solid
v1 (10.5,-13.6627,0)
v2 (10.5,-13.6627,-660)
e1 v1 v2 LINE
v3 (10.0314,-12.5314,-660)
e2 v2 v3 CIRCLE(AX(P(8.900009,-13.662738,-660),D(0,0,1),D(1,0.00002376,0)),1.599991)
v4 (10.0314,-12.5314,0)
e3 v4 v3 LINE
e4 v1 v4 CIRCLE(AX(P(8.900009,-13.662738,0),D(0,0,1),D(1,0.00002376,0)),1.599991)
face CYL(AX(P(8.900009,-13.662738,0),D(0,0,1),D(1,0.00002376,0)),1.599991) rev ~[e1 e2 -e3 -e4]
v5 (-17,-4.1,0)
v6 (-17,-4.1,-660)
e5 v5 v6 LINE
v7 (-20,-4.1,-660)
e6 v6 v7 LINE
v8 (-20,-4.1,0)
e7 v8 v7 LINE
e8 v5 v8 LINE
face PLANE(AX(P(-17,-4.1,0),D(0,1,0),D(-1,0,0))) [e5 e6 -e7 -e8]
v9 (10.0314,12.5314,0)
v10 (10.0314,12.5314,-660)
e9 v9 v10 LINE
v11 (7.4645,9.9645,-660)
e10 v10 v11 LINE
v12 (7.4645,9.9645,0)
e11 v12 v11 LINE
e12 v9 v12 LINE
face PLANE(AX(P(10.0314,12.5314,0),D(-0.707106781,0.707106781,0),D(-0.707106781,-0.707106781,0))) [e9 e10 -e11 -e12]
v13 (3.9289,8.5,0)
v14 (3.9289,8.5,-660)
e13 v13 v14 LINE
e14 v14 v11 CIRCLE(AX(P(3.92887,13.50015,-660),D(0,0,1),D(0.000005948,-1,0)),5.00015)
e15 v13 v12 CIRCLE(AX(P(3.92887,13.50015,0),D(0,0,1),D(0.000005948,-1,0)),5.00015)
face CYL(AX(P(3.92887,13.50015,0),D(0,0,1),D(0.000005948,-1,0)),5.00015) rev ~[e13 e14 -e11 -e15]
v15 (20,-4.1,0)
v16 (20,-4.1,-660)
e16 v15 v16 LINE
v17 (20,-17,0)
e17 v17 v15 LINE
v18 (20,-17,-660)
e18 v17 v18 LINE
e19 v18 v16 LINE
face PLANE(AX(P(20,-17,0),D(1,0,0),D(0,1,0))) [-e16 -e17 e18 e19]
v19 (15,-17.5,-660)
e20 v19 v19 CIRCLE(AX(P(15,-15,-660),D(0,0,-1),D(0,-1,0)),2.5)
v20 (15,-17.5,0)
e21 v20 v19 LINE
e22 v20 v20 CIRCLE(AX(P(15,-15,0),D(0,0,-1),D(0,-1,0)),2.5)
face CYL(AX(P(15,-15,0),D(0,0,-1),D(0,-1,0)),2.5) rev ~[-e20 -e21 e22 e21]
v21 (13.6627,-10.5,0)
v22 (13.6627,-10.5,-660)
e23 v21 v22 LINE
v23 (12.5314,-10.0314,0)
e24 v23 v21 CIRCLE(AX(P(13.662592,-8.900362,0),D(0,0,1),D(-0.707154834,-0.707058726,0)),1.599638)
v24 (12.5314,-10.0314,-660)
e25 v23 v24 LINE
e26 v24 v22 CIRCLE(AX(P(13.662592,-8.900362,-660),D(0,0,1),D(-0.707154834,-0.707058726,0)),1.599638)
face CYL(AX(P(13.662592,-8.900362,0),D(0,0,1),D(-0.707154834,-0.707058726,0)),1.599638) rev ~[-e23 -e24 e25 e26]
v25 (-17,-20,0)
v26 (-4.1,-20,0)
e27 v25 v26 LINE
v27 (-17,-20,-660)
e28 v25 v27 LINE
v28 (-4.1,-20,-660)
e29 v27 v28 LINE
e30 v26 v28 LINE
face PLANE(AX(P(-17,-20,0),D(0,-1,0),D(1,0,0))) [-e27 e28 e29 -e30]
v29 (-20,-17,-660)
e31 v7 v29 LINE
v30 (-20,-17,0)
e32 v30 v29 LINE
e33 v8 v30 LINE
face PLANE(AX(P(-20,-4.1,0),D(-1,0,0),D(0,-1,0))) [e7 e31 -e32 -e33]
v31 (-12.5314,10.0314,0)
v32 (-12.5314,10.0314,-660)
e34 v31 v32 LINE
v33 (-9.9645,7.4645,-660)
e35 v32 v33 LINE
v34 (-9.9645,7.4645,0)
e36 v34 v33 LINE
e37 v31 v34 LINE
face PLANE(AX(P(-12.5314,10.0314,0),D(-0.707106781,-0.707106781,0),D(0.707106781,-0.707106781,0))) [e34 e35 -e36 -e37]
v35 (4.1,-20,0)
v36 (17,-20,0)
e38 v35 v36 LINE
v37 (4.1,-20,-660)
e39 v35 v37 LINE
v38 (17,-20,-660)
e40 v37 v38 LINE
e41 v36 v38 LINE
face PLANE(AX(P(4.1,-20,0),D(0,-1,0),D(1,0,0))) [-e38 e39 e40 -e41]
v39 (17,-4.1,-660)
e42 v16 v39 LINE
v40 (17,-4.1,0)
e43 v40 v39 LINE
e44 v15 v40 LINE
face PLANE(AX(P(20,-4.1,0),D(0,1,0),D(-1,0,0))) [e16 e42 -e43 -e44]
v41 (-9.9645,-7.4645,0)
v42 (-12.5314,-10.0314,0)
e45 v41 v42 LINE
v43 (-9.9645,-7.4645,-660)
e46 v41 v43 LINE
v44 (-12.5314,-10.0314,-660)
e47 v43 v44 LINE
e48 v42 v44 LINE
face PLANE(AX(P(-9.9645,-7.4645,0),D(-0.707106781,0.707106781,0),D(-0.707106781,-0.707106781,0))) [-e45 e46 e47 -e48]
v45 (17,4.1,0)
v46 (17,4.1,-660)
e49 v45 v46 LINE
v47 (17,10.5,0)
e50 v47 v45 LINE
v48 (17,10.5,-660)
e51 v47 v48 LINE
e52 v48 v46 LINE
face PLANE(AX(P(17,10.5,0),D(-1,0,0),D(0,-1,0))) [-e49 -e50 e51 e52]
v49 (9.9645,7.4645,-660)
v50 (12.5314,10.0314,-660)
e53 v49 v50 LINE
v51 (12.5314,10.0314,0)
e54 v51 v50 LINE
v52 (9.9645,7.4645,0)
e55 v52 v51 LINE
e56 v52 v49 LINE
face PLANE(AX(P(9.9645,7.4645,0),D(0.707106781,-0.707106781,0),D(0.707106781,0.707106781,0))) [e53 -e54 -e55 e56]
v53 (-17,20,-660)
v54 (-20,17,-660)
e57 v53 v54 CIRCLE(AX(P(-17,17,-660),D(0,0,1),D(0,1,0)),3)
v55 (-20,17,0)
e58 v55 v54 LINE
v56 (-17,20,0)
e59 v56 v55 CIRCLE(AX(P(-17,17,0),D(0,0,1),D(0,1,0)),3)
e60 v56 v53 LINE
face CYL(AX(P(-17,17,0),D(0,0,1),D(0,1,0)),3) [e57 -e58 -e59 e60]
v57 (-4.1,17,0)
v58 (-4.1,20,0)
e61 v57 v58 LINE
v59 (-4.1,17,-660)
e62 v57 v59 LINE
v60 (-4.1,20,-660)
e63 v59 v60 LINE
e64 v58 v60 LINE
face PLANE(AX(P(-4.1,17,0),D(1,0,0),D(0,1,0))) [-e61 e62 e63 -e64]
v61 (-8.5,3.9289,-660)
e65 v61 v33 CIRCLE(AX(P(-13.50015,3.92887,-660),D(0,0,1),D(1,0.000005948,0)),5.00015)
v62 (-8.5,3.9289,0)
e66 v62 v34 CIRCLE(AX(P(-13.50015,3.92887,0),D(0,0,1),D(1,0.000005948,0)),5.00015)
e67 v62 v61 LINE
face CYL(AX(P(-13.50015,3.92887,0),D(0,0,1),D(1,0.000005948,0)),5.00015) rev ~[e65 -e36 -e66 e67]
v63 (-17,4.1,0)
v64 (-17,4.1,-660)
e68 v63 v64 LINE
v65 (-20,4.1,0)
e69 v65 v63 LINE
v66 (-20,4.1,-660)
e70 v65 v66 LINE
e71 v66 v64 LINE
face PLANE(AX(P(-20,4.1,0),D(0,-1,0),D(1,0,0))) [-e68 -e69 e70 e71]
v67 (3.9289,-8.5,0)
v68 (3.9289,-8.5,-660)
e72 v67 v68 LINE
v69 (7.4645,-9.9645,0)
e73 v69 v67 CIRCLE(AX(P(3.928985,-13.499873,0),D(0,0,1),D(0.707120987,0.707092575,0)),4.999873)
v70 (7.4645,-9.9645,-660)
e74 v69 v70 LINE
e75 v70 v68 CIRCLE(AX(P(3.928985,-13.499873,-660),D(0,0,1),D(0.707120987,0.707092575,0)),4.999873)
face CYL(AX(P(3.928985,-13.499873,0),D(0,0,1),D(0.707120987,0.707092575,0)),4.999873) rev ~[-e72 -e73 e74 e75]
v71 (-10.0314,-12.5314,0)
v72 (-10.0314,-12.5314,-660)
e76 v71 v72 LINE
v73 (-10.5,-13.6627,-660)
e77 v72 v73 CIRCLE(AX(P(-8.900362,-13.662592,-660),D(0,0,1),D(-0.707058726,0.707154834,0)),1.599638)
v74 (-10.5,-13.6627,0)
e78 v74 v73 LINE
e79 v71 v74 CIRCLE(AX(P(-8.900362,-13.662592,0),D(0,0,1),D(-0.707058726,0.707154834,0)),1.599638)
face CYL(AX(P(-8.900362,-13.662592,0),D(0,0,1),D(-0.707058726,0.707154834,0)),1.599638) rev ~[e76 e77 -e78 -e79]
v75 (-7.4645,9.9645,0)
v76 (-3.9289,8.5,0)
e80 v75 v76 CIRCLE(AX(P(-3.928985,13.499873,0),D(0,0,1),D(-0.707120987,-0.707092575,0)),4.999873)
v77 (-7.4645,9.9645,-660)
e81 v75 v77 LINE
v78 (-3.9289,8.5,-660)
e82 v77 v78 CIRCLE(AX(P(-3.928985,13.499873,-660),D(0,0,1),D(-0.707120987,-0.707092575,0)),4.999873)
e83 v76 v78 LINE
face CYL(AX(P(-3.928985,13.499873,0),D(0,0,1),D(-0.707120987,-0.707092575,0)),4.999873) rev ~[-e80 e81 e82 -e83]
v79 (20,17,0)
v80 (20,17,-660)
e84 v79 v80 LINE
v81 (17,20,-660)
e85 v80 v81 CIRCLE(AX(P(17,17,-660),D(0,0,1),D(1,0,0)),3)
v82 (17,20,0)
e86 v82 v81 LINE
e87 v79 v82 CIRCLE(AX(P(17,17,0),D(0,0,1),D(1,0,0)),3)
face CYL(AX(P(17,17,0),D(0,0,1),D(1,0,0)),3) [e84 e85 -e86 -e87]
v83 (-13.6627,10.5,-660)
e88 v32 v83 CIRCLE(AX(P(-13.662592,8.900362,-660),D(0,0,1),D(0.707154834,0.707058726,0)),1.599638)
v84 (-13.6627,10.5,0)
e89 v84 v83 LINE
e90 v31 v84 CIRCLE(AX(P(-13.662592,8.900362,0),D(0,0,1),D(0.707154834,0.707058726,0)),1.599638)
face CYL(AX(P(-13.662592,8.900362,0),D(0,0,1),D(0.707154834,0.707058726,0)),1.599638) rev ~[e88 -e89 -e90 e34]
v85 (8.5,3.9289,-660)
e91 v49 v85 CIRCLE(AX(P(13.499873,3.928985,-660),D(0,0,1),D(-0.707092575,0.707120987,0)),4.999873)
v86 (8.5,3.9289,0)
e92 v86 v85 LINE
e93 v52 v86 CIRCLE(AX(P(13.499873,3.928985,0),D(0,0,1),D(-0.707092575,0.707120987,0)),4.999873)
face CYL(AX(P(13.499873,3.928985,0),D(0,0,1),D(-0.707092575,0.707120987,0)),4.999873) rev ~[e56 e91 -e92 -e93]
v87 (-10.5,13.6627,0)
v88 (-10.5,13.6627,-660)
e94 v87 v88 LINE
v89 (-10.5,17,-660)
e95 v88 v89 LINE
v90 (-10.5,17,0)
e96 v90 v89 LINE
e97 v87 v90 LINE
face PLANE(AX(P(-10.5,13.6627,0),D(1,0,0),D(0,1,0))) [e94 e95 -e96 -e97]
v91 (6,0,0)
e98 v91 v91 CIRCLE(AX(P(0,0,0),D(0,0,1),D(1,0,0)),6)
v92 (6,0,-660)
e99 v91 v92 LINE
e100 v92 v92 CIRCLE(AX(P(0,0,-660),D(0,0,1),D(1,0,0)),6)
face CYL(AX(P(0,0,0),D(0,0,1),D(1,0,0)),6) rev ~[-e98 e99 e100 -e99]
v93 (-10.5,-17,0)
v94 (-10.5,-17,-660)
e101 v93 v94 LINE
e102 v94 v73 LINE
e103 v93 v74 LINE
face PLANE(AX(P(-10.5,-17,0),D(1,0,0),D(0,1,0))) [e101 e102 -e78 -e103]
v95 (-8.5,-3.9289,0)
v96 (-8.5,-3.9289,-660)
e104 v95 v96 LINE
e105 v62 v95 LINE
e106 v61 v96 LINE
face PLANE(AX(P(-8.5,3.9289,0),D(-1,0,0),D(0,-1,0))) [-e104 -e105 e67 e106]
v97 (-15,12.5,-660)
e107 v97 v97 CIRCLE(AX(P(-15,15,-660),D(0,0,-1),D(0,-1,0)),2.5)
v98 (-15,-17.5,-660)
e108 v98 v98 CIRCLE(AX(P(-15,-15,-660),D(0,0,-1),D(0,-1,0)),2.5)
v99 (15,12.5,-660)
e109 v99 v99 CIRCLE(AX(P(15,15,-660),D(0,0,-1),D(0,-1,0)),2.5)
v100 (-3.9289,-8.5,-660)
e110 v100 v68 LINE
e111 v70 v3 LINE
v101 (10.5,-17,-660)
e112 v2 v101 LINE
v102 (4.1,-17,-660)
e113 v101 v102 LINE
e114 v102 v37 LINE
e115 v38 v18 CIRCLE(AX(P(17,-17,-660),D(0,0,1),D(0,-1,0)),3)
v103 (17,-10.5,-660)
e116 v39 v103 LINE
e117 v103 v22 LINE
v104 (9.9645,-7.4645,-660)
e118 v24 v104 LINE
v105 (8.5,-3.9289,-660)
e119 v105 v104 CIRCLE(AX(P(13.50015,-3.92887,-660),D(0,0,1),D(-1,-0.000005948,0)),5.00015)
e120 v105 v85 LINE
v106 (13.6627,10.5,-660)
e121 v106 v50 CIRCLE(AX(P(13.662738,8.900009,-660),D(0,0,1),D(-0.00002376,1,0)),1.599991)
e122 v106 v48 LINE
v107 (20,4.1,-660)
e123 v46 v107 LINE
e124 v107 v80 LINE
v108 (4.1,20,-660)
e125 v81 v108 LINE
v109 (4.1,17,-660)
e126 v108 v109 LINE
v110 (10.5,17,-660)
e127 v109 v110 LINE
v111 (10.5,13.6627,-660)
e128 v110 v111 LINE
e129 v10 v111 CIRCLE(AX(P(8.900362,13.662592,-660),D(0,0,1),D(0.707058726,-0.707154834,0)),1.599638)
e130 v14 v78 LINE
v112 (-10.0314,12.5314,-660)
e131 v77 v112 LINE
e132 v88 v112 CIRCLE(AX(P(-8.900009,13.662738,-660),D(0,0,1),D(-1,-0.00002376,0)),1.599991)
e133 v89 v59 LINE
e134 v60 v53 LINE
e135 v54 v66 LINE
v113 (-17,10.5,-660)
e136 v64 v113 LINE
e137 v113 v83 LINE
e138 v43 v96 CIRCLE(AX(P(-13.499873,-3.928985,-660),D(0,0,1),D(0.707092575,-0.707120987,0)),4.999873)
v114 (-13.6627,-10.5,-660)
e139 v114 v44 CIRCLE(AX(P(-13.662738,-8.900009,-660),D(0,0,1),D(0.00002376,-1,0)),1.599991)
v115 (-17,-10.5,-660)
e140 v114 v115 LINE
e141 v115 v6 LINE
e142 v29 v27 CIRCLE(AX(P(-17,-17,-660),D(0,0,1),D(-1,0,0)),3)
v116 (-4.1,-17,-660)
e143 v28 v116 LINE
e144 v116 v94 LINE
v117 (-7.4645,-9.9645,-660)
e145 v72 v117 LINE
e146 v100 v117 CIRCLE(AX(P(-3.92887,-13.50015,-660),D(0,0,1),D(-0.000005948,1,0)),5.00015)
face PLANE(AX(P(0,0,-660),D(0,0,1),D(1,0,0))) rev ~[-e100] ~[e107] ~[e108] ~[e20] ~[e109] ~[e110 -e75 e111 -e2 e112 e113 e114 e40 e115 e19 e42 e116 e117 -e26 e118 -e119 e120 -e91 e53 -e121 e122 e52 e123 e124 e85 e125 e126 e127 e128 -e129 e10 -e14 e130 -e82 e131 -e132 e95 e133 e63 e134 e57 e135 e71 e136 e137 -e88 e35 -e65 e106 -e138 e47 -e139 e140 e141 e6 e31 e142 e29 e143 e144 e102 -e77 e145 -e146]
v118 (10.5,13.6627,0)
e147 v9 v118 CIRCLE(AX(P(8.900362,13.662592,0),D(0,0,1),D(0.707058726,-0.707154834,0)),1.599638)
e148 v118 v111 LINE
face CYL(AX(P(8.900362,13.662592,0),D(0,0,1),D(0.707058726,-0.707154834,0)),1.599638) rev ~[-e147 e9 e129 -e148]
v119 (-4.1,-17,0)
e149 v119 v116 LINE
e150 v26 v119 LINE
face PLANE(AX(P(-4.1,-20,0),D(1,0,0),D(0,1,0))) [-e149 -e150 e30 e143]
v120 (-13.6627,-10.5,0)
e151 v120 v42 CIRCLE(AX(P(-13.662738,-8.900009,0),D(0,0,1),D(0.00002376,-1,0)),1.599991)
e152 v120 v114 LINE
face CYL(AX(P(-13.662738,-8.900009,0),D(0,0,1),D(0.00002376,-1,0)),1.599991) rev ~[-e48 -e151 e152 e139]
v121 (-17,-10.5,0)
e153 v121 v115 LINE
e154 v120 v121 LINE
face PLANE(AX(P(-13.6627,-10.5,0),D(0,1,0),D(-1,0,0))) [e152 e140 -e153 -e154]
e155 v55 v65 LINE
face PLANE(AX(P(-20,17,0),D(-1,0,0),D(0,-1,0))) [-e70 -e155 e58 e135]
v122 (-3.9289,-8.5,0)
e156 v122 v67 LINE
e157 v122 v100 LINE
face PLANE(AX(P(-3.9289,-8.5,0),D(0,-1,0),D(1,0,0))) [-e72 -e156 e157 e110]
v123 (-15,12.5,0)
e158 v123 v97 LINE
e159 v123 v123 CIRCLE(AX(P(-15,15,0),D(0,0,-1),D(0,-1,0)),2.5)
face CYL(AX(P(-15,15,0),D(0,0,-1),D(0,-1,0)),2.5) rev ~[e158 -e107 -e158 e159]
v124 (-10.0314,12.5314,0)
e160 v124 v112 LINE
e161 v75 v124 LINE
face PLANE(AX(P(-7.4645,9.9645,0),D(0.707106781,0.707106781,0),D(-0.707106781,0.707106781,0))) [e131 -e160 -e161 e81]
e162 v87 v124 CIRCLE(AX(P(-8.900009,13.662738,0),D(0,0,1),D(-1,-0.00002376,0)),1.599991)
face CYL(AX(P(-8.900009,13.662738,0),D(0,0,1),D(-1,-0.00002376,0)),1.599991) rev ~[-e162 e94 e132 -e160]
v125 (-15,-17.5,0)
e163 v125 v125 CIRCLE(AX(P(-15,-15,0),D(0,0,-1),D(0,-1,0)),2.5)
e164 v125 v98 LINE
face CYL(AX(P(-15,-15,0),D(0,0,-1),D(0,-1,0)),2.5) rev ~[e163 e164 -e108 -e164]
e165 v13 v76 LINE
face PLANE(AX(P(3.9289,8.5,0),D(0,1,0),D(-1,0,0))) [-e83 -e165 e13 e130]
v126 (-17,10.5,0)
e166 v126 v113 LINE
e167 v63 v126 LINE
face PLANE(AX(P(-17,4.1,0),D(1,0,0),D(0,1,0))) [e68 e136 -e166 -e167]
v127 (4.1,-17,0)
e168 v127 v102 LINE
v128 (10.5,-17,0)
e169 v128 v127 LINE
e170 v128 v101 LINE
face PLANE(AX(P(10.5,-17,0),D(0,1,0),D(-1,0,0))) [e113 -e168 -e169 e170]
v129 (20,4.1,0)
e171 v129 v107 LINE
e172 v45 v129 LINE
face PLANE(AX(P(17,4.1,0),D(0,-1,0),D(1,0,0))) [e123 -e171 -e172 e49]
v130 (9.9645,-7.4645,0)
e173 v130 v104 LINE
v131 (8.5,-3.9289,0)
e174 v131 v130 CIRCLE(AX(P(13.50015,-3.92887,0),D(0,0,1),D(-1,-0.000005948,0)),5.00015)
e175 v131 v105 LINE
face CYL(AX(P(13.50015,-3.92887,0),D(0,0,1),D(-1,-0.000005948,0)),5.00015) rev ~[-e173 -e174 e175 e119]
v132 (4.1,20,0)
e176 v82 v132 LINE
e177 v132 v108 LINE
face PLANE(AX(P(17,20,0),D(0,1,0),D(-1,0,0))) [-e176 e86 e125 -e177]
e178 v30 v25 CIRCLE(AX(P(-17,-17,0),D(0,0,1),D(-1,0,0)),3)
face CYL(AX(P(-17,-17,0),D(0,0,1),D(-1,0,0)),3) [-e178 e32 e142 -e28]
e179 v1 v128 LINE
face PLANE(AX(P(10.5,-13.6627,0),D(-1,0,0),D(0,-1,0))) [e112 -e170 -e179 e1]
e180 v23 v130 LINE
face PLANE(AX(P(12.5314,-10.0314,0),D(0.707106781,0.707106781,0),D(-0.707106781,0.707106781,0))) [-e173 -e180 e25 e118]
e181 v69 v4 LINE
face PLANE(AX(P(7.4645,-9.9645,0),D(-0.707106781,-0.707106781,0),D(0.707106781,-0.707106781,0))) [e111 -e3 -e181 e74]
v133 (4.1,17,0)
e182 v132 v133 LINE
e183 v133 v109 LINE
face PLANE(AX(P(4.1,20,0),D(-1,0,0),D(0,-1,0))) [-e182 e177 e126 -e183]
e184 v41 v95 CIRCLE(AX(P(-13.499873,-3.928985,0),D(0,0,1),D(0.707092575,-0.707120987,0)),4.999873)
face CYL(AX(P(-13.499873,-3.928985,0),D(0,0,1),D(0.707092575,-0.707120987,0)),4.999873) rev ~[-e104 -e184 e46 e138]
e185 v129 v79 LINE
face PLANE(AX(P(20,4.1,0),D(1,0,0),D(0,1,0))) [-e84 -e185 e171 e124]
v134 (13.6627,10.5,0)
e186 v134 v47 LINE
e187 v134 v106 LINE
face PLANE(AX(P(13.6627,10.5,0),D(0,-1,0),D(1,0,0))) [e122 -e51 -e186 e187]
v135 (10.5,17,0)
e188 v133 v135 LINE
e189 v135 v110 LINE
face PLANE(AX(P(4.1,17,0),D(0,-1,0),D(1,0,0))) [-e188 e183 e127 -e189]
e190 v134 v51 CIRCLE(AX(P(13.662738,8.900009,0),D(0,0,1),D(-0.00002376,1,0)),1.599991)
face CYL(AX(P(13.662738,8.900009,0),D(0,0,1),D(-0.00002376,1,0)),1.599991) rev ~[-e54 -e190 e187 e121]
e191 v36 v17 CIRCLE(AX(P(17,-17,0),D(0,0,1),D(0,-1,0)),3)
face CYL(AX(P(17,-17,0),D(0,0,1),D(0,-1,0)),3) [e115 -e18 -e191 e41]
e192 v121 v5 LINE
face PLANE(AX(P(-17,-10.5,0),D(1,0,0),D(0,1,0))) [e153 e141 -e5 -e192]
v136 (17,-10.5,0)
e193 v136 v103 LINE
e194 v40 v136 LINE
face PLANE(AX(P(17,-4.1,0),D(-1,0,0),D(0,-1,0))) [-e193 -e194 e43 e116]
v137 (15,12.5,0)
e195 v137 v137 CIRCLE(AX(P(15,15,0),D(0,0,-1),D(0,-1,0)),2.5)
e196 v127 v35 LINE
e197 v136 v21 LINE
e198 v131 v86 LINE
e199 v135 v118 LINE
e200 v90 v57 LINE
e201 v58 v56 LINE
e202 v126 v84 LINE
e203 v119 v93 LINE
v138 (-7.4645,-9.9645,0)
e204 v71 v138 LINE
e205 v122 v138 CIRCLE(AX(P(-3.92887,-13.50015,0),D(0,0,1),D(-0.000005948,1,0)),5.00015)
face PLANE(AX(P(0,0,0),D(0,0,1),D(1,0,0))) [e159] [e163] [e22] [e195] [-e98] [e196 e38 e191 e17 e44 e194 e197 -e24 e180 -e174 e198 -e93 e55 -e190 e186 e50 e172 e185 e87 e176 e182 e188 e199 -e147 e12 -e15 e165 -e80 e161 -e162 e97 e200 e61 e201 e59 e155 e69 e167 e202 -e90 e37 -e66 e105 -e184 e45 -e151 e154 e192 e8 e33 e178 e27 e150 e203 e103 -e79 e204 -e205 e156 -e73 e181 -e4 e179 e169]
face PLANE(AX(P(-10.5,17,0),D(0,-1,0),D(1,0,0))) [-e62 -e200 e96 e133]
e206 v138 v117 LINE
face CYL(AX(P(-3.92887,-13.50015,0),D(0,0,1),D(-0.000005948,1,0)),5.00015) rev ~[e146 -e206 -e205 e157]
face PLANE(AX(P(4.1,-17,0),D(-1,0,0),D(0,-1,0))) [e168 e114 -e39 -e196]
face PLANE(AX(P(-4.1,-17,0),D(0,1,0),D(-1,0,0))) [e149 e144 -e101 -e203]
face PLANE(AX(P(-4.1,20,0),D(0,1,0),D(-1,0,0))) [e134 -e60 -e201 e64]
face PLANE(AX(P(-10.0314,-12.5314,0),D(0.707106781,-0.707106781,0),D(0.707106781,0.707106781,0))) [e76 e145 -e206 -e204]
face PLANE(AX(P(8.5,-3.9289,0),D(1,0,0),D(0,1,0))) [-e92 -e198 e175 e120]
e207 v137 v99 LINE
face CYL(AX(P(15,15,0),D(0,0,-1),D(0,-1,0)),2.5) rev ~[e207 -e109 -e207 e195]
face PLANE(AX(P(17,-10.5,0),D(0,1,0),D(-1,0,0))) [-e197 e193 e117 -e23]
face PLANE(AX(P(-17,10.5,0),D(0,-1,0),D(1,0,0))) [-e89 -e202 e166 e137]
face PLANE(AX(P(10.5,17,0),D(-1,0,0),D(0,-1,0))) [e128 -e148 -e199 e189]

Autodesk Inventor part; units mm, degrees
sketch "Skizze_1" plane through (0, 0, 0) normal (0, 0, 1) x (1, 0, 0)
  arc A0 (-20, -17) -> (-17, -20) centre (-17, -17) ccw
  line L0 (-17, -20) -> (-4.1, -20)
  line L1 (-4.1, -20) -> (-4.1, -17)
  line L2 (-4.1, -17) -> (-10.5, -17)
  line L3 (-10.5, -17) -> (-10.5, -13.6627)
  arc A1 (-10.0314, -12.5314) -> (-10.5, -13.6627) centre (-8.9002, -13.6627) ccw
  line L4 (-10.0314, -12.5314) -> (-7.4645, -9.9645)
  arc A2 (-3.9289, -8.5) -> (-7.4645, -9.9645) centre (-3.9289, -13.5) ccw
  line L5 (-3.9289, -8.5) -> (3.9289, -8.5)
  arc A3 (7.4645, -9.9645) -> (3.9289, -8.5) centre (3.9289, -13.5) ccw
  line L6 (7.4645, -9.9645) -> (10.0314, -12.5314)
  arc A4 (10.5, -13.6627) -> (10.0314, -12.5314) centre (8.9002, -13.6627) ccw
  line L7 (10.5, -13.6627) -> (10.5, -17)
  line L8 (10.5, -17) -> (4.1, -17)
  line L9 (4.1, -17) -> (4.1, -20)
  line L10 (4.1, -20) -> (17, -20)
  arc A5 (17, -20) -> (20, -17) centre (17, -17) ccw
  line L11 (20, -17) -> (20, -4.1)
  line L12 (20, -4.1) -> (17, -4.1)
  line L13 (17, -4.1) -> (17, -10.5)
  line L14 (17, -10.5) -> (13.6627, -10.5)
  arc A6 (12.5314, -10.0314) -> (13.6627, -10.5) centre (13.6627, -8.9002) ccw
  line L15 (12.5314, -10.0314) -> (9.9645, -7.4645)
  arc A7 (8.5, -3.9289) -> (9.9645, -7.4645) centre (13.5, -3.9289) ccw
  line L16 (8.5, -3.9289) -> (8.5, 3.9289)
  arc A8 (9.9645, 7.4645) -> (8.5, 3.9289) centre (13.5, 3.9289) ccw
  line L17 (9.9645, 7.4645) -> (12.5314, 10.0314)
  arc A9 (13.6627, 10.5) -> (12.5314, 10.0314) centre (13.6627, 8.9002) ccw
  line L18 (13.6627, 10.5) -> (17, 10.5)
  line L19 (17, 10.5) -> (17, 4.1)
  line L20 (17, 4.1) -> (20, 4.1)
  line L21 (20, 4.1) -> (20, 17)
  arc A10 (20, 17) -> (17, 20) centre (17, 17) ccw
  line L22 (17, 20) -> (4.1, 20)
  line L23 (4.1, 20) -> (4.1, 17)
  line L24 (4.1, 17) -> (10.5, 17)
  line L25 (10.5, 17) -> (10.5, 13.6627)
  arc A11 (10.0314, 12.5314) -> (10.5, 13.6627) centre (8.9002, 13.6627) ccw
  line L26 (10.0314, 12.5314) -> (7.4645, 9.9645)
  arc A12 (3.9289, 8.5) -> (7.4645, 9.9645) centre (3.9289, 13.5) ccw
  line L27 (3.9289, 8.5) -> (-3.9289, 8.5)
  arc A13 (-7.4645, 9.9645) -> (-3.9289, 8.5) centre (-3.9289, 13.5) ccw
  line L28 (-7.4645, 9.9645) -> (-10.0314, 12.5314)
  arc A14 (-10.5, 13.6627) -> (-10.0314, 12.5314) centre (-8.9002, 13.6627) ccw
  line L29 (-10.5, 13.6627) -> (-10.5, 17)
  line L30 (-10.5, 17) -> (-4.1, 17)
  line L31 (-4.1, 17) -> (-4.1, 20)
  line L32 (-4.1, 20) -> (-17, 20)
  arc A15 (-17, 20) -> (-20, 17) centre (-17, 17) ccw
  line L33 (-20, 17) -> (-20, 4.1)
  line L34 (-20, 4.1) -> (-17, 4.1)
  line L35 (-17, 4.1) -> (-17, 10.5)
  line L36 (-17, 10.5) -> (-13.6627, 10.5)
  arc A16 (-12.5314, 10.0314) -> (-13.6627, 10.5) centre (-13.6627, 8.9002) ccw
  line L37 (-12.5314, 10.0314) -> (-9.9645, 7.4645)
  arc A17 (-8.5, 3.9289) -> (-9.9645, 7.4645) centre (-13.5, 3.9289) ccw
  line L38 (-8.5, 3.9289) -> (-8.5, -3.9289)
  arc A18 (-9.9645, -7.4645) -> (-8.5, -3.9289) centre (-13.5, -3.9289) ccw
  line L39 (-9.9645, -7.4645) -> (-12.5314, -10.0314)
  arc A19 (-13.6627, -10.5) -> (-12.5314, -10.0314) centre (-13.6627, -8.9002) ccw
  line L40 (-13.6627, -10.5) -> (-17, -10.5)
  line L41 (-17, -10.5) -> (-17, -4.1)
  line L42 (-17, -4.1) -> (-20, -4.1)
  line L43 (-20, -4.1) -> (-20, -17)
  circle A20 centre (0, 0) radius 6
extrude "Extrusion1" add sketch "Skizze_1" against normal blind 660
sketch "Sketch2" plane through (0, 0, 0) normal (0, 0, 1) x (1, 0, 0)
  point P0 (-15, -15)
hole "Drilling 1" at (-15, -15, 0) direction (0, 0, -1) diameter 5 depth 6000
sketch "Sketch3" plane through (0, 0, 0) normal (0, 0, 1) x (1, 0, 0)
  point P0 (15, -15)
hole "Drilling 2" at (15, -15, 0) direction (0, 0, -1) diameter 5 depth 6000
sketch "Sketch4" plane through (0, 0, 0) normal (0, 0, 1) x (1, 0, 0)
  point P0 (15, 15)
hole "Drilling 3" at (15, 15, 0) direction (0, 0, -1) diameter 5 depth 6000
sketch "Sketch5" plane through (0, 0, 0) normal (0, 0, 1) x (1, 0, 0)
  point P0 (-15, 15)
hole "Drilling 4" at (-15, 15, 0) direction (0, 0, -1) diameter 5 depth 6000
ref_plane "side_4d_XY" through (-20, 0, -330) normal (-1, 0, 0) x (0, 1, 0)
ref_plane "side_4d_YZ" through (-20, 0, -330) normal (0, 1, 0) x (0, 0, -1)
ref_plane "side_4d_ZX" through (-20, 0, -330) normal (0, 0, -1) x (-1, 0, 0)
ref_plane "side_1a_XY" through (0, 20, -330) normal (0, 1, 0) x (1, 0, 0)
ref_plane "side_1a_YZ" through (0, 20, -330) normal (1, 0, 0) x (0, 0, -1)
ref_plane "side_1a_ZX" through (0, 20, -330) normal (0, 0, -1) x (0, 1, 0)
ref_plane "side_2b_XY" through (20, 0, -330) normal (1, 0, 0) x (0, -1, 0)
ref_plane "side_2b_YZ" through (20, 0, -330) normal (0, -1, 0) x (0, 0, -1)
ref_plane "side_2b_ZX" through (20, 0, -330) normal (0, 0, -1) x (1, 0, 0)
ref_plane "side_3c_XY" through (0, -20, -330) normal (0, -1, 0) x (-1, 0, 0)
ref_plane "side_3c_YZ" through (0, -20, -330) normal (-1, 0, 0) x (0, 0, -1)
ref_plane "side_3c_ZX" through (0, -20, -330) normal (0, 0, -1) x (0, -1, 0)
ref_plane "end_XY" through (0, 0, -660) normal (0, 0, -1) x (1, 0, 0)
ref_plane "end_YZ" through (0, 0, -660) normal (1, 0, 0) x (0, -1, 0)
ref_plane "end_ZX" through (0, 0, -660) normal (0, -1, 0) x (0, 0, -1)
ref_plane "start_XY" through (0, 0, 0) normal (0, 0, 1) x (1, 0, 0)
ref_plane "start_YZ" through (0, 0, 0) normal (1, 0, 0) x (0, 1, 0)
ref_plane "start_ZX" through (0, 0, 0) normal (0, 1, 0) x (0, 0, 1)
properties part number "MayTec 1.11.040040.43S_Profile 40x40, 4E, S_660_Detail_(0;0,0,0)"
